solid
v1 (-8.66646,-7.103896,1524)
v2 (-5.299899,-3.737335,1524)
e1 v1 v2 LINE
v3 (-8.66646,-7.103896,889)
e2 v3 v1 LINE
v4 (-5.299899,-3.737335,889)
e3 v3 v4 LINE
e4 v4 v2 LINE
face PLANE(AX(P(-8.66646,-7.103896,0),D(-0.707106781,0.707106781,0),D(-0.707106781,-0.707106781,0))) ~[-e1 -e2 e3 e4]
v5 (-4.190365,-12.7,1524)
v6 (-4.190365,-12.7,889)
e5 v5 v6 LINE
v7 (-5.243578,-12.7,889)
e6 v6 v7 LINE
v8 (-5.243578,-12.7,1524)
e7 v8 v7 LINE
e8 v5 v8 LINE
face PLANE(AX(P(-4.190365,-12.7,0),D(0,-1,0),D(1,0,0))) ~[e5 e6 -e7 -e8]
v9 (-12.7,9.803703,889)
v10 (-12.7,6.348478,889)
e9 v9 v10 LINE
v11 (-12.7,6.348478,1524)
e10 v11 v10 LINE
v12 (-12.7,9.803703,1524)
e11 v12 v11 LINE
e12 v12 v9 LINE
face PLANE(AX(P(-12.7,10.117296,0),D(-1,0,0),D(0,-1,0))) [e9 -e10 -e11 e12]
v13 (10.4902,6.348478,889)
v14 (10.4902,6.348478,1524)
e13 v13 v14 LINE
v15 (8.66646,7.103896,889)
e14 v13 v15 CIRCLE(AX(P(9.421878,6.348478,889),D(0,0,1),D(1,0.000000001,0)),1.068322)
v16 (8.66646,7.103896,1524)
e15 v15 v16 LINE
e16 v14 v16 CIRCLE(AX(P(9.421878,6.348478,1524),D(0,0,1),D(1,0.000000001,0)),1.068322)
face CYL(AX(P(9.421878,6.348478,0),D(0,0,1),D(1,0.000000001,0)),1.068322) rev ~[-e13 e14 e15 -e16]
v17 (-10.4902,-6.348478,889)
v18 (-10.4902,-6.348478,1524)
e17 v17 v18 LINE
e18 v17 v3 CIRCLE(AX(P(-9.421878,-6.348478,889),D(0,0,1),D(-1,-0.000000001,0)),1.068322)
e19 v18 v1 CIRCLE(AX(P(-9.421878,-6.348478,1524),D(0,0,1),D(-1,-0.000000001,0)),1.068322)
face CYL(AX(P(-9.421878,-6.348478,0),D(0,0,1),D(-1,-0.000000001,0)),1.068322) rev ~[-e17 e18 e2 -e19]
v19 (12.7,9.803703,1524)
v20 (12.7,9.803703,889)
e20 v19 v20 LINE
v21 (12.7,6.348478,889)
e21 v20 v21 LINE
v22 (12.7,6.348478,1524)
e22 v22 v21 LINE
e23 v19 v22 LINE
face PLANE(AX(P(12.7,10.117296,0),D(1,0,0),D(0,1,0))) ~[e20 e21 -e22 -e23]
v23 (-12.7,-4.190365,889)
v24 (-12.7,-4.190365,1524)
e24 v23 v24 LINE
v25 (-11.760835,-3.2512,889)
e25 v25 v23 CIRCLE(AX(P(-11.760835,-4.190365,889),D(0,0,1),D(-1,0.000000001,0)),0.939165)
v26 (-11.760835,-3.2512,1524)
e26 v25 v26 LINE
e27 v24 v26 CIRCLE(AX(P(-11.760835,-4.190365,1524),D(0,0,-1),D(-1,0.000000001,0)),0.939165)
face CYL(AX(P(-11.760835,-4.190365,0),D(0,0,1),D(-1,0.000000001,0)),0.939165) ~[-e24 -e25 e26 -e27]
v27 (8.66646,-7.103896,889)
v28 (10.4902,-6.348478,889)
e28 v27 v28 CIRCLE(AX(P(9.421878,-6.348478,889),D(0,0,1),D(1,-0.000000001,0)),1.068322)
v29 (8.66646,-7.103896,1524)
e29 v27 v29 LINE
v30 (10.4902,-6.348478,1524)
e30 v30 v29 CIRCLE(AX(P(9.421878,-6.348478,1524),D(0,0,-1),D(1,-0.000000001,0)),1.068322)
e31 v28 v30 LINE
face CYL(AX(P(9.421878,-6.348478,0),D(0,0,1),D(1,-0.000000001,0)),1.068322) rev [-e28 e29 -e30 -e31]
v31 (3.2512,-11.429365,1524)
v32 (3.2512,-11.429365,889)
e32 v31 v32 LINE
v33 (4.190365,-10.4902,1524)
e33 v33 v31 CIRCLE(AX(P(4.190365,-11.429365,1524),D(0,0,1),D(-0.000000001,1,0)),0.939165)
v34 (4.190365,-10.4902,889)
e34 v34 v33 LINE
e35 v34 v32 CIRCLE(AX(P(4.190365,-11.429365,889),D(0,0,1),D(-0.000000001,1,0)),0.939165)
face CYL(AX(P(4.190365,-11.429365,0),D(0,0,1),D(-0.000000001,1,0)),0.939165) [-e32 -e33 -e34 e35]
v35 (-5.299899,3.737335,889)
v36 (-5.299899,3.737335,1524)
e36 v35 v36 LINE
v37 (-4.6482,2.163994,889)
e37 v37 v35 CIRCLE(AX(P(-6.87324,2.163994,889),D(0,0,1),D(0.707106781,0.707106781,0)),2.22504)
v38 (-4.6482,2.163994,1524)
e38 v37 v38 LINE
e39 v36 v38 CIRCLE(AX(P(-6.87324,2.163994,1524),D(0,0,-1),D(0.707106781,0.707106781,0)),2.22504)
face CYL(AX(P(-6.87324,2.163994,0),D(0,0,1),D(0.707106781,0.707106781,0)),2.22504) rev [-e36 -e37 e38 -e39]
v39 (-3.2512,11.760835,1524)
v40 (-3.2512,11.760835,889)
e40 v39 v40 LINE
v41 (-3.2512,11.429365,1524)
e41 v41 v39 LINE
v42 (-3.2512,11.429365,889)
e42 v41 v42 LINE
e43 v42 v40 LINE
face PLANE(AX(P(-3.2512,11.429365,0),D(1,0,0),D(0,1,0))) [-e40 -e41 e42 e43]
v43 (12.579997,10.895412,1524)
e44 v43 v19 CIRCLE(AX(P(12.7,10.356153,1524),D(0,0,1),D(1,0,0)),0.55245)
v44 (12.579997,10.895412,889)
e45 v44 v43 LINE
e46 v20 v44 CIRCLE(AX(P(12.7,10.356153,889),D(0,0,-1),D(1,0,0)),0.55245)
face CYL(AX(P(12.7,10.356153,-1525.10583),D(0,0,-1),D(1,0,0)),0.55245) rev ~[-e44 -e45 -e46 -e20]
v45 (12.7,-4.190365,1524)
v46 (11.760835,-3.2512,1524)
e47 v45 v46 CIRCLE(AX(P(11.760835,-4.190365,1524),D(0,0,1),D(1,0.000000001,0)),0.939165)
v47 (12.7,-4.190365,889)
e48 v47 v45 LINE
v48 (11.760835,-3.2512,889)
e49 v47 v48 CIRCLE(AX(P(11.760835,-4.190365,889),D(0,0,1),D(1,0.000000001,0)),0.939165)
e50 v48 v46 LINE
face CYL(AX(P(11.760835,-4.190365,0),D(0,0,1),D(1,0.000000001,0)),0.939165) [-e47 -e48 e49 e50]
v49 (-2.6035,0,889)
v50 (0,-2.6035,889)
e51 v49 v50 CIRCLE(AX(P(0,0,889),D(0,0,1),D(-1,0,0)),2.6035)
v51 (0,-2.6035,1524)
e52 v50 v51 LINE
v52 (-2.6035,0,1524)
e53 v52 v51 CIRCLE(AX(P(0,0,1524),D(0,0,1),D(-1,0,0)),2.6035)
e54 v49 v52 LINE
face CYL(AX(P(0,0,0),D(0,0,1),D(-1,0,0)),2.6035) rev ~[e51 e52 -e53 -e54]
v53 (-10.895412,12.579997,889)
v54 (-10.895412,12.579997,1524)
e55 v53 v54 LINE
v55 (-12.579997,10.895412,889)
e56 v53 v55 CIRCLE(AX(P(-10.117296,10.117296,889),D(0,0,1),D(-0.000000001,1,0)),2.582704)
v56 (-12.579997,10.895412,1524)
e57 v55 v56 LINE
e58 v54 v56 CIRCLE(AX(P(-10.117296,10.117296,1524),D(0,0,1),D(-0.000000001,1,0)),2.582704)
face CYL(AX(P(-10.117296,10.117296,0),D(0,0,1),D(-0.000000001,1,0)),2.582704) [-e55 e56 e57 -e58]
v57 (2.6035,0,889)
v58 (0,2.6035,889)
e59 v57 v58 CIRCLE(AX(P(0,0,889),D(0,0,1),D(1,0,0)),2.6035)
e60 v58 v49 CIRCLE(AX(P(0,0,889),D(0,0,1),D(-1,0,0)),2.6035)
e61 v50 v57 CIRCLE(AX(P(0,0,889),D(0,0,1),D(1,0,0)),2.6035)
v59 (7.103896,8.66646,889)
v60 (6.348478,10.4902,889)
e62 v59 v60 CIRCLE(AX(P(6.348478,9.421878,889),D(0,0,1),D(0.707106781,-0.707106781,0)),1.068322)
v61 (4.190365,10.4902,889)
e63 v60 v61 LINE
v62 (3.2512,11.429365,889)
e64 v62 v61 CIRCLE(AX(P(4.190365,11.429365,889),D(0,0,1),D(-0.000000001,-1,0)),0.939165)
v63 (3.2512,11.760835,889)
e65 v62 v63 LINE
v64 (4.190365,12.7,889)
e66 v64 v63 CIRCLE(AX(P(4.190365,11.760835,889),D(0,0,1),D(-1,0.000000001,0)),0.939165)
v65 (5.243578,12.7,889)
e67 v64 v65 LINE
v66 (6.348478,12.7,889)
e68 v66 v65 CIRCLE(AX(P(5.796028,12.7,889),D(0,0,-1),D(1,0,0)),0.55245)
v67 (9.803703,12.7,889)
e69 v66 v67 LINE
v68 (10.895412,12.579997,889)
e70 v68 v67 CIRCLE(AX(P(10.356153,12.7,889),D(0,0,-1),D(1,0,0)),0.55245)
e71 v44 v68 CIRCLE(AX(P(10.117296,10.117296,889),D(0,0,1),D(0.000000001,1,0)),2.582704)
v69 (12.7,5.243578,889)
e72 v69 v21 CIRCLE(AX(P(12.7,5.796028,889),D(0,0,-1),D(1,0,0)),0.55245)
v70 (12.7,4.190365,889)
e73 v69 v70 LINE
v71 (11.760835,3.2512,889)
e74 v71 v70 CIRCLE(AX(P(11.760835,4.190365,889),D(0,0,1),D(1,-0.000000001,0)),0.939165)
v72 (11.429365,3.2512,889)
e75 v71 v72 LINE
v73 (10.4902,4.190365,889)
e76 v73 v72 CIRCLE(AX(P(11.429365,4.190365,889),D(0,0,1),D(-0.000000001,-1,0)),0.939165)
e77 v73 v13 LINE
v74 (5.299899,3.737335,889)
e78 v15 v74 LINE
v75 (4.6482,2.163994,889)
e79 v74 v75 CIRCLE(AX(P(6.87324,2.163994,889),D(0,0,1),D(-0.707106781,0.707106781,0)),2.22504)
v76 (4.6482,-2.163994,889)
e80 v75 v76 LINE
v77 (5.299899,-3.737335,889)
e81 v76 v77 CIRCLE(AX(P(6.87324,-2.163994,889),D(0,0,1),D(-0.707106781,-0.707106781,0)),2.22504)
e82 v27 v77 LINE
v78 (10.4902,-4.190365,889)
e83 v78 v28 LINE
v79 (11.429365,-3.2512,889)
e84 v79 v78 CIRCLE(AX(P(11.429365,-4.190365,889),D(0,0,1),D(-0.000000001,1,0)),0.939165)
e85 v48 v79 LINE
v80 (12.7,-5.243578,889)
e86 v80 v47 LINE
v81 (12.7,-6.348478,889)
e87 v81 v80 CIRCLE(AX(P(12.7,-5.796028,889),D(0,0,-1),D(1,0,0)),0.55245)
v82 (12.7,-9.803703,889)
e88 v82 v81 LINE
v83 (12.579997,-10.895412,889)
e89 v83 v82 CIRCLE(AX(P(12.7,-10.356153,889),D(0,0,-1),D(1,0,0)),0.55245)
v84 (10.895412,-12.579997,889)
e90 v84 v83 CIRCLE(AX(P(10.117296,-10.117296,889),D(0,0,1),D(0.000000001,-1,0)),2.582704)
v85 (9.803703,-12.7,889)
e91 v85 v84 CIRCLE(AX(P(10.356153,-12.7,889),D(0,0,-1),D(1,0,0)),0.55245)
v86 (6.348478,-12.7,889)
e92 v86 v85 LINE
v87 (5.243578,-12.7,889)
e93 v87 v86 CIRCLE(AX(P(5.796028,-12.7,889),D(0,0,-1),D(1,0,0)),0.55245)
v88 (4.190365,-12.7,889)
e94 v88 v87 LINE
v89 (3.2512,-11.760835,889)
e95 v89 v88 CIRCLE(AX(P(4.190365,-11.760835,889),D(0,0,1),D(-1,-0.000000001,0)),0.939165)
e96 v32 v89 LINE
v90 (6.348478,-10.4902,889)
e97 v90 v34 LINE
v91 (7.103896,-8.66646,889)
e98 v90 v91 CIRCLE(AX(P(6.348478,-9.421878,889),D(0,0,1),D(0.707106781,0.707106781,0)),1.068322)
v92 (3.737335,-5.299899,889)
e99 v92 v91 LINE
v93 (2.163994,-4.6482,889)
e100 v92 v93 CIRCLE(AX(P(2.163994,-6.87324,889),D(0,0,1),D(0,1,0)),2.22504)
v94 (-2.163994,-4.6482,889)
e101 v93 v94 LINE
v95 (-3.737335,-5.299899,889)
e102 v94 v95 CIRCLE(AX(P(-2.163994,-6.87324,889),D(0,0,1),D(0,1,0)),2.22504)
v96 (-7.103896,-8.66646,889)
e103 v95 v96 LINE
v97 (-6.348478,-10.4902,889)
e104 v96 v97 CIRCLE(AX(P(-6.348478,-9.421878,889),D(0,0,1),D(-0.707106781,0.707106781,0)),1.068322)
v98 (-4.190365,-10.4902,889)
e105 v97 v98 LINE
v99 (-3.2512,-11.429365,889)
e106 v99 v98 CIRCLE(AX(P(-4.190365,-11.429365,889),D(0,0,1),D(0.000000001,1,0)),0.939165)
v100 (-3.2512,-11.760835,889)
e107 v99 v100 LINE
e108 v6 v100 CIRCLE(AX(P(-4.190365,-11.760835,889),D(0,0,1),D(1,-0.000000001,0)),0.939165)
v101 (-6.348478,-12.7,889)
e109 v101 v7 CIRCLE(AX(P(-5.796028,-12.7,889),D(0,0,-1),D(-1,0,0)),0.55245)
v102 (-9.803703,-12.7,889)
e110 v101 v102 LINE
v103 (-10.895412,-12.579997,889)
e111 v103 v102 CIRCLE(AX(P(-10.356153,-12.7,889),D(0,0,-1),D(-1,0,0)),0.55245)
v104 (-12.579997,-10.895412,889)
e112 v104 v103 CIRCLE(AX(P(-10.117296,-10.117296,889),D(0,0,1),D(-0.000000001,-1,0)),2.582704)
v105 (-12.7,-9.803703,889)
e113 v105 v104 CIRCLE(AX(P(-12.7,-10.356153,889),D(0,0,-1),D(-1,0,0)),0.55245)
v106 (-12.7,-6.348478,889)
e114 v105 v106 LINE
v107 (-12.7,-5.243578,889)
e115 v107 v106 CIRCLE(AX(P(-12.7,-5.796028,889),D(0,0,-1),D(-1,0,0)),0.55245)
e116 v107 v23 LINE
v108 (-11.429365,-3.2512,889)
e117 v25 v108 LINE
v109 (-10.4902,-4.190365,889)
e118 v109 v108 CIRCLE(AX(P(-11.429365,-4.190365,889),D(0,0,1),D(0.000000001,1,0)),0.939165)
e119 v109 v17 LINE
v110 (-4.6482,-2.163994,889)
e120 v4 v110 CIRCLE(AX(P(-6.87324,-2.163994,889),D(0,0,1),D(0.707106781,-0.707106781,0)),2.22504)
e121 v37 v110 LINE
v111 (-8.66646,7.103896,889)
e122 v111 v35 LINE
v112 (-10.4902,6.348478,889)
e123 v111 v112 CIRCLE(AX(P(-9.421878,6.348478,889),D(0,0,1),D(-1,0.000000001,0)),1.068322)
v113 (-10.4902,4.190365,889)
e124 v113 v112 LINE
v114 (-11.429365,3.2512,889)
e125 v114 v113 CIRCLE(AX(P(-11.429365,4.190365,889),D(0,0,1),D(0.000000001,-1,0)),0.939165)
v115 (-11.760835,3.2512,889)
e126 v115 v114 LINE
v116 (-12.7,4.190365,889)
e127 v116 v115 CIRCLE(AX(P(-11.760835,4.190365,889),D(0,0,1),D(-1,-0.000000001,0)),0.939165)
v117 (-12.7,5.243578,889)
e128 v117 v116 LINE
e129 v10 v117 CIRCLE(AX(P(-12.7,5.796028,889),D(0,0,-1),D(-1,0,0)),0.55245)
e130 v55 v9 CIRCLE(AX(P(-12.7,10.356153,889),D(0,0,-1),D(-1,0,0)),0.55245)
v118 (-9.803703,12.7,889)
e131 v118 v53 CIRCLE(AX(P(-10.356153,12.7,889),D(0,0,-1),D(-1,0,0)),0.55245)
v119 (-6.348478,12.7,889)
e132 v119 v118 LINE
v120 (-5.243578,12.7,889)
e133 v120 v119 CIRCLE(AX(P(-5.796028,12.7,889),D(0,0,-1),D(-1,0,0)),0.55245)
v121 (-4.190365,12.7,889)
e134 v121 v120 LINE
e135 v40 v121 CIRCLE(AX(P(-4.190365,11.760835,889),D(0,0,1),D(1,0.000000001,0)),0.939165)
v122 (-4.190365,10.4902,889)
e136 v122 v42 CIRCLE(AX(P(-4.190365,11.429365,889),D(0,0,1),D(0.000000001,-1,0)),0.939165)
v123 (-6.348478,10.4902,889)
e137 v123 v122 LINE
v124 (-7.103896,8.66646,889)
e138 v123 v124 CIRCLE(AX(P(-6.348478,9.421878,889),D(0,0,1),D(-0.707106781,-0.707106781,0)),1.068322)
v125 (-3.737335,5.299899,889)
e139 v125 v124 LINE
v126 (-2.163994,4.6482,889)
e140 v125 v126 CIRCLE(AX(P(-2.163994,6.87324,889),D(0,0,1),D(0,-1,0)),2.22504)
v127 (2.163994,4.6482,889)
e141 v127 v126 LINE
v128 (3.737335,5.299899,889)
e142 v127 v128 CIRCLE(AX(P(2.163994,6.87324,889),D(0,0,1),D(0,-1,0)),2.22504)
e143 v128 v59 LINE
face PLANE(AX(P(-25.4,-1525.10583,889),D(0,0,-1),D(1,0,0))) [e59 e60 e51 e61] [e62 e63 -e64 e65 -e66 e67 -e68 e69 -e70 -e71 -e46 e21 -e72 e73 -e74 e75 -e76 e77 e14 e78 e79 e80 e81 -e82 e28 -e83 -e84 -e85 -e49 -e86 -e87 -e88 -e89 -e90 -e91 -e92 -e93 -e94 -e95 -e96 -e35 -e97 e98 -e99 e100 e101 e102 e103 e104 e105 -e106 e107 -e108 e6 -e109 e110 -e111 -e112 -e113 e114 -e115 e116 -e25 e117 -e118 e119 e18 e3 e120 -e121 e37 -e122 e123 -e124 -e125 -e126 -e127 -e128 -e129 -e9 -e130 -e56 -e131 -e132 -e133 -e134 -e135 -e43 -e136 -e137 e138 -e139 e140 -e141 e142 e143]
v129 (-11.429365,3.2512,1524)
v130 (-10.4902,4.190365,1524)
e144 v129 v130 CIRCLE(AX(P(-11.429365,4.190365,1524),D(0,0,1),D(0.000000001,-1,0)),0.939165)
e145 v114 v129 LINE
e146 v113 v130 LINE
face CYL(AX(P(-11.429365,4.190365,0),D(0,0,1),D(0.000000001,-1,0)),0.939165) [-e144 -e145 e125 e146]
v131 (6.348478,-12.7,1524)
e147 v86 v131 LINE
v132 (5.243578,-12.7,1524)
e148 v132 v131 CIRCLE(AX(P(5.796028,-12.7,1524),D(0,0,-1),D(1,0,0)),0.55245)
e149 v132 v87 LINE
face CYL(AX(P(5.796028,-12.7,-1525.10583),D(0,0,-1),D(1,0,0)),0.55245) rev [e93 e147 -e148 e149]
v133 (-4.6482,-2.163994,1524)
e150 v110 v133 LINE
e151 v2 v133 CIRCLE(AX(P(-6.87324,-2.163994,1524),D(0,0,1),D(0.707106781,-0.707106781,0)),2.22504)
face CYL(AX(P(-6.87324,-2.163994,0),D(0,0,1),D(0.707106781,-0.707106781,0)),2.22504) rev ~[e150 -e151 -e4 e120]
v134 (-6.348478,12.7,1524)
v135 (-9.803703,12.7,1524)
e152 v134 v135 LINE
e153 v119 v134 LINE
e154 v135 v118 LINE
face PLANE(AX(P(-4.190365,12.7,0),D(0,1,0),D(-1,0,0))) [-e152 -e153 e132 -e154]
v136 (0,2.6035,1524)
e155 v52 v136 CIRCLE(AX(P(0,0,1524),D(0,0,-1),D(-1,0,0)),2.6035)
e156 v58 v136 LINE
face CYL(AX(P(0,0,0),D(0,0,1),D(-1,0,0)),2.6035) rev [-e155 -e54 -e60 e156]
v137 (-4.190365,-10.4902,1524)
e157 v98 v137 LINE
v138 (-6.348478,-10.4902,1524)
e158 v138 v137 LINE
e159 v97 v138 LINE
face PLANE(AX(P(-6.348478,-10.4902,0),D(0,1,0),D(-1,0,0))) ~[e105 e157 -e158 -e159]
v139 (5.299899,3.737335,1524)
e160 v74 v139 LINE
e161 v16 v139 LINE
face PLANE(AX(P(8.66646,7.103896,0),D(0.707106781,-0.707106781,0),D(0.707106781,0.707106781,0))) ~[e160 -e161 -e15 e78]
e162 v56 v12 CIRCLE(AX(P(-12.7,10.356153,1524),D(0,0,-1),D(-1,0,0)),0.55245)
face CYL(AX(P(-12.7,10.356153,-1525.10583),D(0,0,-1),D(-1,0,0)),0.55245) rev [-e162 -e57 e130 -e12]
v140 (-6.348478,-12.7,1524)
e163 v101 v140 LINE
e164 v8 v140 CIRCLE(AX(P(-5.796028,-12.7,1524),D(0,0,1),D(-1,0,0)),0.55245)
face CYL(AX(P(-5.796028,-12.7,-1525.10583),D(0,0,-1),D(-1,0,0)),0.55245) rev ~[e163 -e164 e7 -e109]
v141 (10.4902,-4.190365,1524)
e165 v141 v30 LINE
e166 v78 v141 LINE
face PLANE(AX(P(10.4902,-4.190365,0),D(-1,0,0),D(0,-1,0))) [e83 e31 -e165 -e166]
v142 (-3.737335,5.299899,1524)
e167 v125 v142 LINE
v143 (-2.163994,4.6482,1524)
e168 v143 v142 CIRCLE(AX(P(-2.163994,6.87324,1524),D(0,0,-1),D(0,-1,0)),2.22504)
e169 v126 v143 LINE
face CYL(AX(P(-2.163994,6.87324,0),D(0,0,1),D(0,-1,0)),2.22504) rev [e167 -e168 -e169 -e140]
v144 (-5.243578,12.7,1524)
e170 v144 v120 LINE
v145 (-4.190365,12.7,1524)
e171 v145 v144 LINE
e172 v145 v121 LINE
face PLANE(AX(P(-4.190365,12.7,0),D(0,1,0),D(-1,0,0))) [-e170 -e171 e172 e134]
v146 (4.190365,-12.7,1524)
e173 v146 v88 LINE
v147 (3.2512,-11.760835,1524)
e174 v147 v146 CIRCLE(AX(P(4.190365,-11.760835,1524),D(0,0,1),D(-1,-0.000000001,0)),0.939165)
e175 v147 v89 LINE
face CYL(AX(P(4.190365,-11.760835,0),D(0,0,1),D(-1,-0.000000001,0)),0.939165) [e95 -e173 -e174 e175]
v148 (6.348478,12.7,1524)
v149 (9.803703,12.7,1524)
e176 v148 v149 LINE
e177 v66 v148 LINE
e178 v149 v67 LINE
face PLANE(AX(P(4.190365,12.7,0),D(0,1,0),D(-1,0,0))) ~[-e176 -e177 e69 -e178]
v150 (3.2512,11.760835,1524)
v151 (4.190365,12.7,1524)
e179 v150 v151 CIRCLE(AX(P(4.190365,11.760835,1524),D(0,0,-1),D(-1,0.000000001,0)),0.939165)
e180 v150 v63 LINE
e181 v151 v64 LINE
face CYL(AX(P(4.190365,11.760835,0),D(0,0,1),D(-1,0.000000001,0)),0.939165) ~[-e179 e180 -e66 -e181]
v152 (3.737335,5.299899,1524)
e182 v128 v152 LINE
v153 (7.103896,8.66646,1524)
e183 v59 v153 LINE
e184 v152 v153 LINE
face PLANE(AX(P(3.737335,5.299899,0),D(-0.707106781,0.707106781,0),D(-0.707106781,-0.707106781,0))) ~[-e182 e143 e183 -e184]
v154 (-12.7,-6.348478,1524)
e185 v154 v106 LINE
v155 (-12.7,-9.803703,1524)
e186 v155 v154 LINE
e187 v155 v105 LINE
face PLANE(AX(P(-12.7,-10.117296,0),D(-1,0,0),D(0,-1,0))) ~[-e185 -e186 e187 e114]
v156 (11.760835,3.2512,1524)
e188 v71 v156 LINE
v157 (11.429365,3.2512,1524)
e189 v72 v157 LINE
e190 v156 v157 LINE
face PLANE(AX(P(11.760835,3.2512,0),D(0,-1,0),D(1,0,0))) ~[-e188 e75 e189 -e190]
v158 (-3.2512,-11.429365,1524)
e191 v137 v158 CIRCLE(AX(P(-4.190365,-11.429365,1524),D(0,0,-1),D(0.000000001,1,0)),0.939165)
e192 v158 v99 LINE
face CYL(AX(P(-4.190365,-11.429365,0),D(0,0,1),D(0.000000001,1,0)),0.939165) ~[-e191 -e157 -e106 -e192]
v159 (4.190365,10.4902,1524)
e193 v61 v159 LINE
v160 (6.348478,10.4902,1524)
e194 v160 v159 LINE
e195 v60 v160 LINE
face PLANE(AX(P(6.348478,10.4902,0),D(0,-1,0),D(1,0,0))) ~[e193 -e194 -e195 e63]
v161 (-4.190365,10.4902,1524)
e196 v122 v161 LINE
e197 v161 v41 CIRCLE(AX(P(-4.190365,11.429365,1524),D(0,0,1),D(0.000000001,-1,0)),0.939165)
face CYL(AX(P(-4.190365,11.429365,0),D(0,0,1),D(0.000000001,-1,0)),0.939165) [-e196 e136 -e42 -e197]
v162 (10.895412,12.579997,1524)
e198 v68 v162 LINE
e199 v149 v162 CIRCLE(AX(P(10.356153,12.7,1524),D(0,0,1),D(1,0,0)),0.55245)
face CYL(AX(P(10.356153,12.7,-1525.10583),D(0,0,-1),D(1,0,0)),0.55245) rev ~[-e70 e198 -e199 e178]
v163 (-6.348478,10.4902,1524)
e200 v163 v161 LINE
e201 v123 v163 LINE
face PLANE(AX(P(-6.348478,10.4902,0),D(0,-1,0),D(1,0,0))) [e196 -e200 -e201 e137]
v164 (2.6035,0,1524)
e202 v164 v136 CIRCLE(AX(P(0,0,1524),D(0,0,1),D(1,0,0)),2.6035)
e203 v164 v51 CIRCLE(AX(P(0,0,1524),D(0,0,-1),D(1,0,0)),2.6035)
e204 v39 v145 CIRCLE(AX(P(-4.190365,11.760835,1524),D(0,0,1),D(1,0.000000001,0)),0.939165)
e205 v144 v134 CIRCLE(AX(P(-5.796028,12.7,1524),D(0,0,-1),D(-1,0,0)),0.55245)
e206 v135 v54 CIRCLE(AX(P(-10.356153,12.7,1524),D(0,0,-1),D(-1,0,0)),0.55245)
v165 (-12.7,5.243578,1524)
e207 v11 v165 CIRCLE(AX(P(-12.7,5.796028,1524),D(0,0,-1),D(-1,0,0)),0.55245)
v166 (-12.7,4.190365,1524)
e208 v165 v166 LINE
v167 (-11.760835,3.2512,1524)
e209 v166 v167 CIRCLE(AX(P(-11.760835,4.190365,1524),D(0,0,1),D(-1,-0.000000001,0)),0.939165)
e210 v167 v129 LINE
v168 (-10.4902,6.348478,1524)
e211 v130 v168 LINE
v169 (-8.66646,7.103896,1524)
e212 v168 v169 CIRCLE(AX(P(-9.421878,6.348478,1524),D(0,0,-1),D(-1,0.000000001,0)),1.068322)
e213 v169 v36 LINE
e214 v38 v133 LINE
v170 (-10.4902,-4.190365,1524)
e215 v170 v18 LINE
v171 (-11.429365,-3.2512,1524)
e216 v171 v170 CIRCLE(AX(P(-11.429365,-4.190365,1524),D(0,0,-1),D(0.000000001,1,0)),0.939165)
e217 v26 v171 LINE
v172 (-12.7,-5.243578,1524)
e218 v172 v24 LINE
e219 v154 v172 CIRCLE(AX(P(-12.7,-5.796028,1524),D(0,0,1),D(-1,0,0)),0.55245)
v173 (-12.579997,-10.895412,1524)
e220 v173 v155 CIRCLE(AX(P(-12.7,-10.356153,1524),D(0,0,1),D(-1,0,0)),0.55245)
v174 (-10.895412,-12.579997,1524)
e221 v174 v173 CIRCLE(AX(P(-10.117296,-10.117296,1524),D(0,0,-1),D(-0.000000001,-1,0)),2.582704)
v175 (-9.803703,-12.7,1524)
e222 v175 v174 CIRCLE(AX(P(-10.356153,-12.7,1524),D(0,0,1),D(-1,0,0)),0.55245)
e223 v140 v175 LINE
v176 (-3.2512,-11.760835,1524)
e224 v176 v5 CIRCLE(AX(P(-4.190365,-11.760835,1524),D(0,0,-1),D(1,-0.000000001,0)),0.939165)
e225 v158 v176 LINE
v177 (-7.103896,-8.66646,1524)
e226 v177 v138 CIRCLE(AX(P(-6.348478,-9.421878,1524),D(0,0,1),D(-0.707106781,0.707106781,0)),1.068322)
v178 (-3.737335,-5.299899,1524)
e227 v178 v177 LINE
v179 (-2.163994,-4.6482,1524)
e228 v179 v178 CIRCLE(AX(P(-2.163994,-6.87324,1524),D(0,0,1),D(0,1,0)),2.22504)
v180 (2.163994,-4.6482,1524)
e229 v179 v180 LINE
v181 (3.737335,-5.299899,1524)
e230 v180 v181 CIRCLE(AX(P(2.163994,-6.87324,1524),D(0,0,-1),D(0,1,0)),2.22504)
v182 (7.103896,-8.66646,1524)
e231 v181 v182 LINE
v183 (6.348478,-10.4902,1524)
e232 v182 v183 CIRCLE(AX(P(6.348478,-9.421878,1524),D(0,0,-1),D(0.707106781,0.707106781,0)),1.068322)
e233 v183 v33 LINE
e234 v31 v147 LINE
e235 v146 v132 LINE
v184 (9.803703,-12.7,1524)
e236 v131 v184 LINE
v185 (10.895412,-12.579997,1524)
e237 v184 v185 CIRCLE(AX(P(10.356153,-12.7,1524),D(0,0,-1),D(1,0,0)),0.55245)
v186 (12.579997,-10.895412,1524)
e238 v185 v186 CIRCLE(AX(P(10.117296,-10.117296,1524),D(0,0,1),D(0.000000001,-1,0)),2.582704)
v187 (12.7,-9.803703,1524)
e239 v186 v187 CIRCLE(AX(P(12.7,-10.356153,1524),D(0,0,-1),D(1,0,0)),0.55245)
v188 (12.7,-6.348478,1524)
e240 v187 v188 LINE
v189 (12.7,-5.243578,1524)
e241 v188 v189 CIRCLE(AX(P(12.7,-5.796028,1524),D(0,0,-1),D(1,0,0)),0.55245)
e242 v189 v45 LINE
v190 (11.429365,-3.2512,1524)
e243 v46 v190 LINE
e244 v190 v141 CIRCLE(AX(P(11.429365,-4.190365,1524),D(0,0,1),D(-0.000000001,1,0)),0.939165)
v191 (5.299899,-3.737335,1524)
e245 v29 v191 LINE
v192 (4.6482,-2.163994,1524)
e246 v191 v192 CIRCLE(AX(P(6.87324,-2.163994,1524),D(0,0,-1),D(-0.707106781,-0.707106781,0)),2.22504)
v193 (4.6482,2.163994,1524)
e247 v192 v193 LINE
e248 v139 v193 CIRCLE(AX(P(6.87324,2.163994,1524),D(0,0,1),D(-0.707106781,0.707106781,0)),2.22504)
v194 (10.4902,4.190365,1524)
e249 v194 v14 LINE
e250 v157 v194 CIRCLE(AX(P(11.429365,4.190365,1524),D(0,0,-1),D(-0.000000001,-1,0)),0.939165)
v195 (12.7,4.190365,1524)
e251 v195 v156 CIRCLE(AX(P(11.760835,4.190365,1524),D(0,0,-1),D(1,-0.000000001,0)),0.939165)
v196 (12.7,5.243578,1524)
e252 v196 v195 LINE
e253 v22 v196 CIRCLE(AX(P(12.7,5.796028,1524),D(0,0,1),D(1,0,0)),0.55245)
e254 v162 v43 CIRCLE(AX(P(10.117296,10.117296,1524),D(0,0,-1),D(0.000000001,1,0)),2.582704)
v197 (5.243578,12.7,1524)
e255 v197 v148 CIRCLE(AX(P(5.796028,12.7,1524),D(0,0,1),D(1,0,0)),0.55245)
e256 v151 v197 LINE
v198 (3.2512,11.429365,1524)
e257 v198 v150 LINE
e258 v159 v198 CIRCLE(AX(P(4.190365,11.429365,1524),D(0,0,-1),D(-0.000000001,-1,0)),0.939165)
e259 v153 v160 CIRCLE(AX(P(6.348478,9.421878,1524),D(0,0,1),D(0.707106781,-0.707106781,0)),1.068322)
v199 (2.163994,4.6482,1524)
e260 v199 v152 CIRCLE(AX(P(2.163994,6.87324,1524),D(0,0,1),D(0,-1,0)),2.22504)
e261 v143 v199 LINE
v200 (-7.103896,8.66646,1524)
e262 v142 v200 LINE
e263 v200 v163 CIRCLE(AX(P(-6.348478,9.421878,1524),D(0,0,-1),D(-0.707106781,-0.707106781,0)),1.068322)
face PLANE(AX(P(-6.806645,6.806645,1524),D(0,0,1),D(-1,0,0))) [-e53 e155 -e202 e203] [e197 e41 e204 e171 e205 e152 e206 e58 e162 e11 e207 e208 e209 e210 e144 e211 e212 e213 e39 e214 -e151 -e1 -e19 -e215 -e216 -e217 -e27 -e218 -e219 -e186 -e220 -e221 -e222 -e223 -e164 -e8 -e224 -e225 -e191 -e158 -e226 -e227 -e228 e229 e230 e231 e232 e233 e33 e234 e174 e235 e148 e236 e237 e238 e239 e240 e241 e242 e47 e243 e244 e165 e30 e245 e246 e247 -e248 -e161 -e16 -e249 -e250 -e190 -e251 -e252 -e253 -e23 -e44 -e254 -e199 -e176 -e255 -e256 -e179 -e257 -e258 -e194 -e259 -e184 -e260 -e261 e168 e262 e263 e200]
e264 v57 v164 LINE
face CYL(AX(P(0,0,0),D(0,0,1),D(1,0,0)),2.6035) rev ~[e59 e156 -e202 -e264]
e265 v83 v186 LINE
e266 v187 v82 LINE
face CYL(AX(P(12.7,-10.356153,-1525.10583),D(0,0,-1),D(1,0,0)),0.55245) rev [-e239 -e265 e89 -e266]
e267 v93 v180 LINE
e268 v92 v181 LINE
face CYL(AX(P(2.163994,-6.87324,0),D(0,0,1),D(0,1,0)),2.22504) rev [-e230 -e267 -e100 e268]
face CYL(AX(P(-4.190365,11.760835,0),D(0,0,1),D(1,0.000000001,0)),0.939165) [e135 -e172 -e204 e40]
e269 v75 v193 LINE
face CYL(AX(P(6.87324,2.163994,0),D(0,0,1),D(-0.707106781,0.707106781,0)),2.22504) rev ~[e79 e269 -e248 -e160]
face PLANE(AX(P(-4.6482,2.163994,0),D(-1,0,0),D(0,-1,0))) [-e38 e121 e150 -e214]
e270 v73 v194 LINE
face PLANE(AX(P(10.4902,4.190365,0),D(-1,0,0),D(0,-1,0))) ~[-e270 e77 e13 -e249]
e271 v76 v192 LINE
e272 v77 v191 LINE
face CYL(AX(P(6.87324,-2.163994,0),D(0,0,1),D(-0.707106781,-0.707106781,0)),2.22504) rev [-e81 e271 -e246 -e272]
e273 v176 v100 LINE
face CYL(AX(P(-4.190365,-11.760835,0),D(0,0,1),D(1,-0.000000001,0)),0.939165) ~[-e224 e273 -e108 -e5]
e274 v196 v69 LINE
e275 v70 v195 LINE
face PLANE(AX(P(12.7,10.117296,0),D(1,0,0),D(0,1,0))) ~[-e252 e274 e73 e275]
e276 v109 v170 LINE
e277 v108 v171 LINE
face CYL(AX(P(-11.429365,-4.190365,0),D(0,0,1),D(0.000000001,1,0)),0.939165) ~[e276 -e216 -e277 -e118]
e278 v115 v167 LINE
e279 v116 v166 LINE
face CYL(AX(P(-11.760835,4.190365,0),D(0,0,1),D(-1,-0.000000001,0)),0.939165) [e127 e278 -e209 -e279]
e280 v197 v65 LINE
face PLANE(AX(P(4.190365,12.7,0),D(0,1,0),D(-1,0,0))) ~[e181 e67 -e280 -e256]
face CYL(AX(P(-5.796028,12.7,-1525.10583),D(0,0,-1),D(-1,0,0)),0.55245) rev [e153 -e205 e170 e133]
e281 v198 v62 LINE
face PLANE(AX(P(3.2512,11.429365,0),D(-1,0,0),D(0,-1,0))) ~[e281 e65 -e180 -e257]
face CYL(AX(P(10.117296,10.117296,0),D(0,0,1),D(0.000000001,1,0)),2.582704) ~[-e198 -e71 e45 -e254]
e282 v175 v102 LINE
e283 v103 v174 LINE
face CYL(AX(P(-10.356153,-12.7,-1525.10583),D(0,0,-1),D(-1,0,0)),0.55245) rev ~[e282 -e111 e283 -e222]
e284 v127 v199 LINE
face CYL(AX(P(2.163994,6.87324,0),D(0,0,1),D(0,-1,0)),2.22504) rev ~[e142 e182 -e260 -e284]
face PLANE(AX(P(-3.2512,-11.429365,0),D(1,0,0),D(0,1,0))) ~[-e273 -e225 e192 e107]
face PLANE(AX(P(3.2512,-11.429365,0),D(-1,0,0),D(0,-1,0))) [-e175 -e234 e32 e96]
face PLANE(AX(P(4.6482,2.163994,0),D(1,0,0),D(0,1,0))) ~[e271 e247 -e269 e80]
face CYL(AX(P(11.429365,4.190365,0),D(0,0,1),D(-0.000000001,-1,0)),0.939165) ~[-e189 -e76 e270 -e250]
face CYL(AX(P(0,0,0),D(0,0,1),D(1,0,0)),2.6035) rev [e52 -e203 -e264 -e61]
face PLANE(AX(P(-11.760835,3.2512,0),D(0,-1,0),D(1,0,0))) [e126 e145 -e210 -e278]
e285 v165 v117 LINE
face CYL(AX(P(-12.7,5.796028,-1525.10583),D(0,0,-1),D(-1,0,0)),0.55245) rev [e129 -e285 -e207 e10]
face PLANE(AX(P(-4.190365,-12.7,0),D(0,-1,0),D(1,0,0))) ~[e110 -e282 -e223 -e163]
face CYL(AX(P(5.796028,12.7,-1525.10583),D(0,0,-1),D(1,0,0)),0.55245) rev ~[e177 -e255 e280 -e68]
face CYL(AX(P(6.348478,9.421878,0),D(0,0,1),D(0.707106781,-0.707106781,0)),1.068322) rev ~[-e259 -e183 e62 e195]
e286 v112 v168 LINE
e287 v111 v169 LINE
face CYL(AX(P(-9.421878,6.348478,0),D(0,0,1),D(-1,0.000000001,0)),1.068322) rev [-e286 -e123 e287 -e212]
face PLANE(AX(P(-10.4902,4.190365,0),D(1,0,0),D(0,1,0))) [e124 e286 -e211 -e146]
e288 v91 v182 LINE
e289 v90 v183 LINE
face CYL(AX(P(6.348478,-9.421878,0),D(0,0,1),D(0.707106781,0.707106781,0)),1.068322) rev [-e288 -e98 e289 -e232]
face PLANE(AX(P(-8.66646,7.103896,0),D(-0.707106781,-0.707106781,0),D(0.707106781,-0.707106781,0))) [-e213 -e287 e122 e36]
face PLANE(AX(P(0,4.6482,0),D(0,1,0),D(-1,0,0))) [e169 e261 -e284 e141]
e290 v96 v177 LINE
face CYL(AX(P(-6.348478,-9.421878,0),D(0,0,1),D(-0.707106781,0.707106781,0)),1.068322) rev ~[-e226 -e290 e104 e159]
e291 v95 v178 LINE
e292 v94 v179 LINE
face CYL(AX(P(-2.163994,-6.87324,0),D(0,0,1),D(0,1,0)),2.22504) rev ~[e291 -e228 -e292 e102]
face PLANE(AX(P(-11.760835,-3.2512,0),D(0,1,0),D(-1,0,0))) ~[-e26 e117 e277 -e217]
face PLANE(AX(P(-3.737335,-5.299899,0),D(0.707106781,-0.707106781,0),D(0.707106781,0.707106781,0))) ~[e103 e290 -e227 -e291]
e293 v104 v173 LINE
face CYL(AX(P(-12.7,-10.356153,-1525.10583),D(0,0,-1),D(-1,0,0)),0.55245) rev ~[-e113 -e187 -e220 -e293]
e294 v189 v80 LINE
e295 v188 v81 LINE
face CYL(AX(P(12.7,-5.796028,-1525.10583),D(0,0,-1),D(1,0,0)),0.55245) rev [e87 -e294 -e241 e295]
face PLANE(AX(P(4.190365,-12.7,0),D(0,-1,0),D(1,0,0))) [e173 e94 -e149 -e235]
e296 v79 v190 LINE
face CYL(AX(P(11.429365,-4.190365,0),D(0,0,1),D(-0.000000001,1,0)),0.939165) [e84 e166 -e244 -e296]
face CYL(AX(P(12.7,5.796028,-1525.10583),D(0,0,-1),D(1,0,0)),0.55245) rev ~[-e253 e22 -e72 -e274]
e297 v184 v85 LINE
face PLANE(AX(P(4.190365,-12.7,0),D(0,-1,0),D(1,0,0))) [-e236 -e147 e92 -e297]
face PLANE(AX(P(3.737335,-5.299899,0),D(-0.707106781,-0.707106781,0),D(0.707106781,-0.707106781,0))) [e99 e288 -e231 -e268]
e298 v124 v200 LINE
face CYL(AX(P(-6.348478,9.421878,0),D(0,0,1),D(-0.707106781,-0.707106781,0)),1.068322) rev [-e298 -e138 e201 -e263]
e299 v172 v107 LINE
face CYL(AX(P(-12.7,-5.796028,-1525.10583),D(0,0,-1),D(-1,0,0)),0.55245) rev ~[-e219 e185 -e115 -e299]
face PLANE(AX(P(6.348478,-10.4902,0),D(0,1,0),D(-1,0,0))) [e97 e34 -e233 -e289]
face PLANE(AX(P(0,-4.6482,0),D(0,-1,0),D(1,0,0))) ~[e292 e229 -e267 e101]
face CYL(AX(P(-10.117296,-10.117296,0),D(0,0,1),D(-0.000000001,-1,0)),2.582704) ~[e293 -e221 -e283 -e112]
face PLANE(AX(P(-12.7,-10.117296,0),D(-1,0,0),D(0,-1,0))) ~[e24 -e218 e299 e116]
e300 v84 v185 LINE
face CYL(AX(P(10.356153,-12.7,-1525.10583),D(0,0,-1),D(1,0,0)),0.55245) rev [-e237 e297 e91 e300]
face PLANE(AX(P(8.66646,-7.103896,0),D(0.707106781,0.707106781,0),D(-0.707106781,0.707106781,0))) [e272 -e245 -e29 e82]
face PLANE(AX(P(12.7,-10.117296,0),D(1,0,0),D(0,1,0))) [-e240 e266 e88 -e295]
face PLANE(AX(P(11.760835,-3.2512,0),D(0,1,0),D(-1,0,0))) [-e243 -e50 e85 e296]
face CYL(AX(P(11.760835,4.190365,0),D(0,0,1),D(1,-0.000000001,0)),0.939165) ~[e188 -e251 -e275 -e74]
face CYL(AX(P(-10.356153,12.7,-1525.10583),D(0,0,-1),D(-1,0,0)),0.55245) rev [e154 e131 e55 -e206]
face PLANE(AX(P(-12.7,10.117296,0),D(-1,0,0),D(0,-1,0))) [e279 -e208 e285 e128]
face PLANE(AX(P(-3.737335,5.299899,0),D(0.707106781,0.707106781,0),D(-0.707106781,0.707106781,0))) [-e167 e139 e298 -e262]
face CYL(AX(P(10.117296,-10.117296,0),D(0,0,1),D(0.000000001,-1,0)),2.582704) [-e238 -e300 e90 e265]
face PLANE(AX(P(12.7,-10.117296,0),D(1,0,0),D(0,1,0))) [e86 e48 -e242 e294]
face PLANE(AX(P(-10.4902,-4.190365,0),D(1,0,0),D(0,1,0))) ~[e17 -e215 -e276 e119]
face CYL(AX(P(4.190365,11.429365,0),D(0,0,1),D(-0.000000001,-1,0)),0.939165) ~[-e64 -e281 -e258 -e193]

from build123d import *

# Parameters (mm, degrees)
BOSS_EXTRUDE1_DEPTH     = 1524
CUT_EXTRUDE1_DEPTH      = 1525.105829659
CUT_EXTRUDE1_DEPTH_BACK = 1525.105829659
SKETCH5_R               = 0.55245
CUT_EXTRUDE2_DEPTH      = 1525.105829659
CUT_EXTRUDE2_DEPTH_BACK = 1525.105829659
SKETCH8_W               = 50.559993734
SKETCH8_H               = 1231.9
CUT_EXTRUDE3_DEPTH      = 1525.105829659
CUT_EXTRUDE3_DEPTH_BACK = 1525.105829659
SKETCH9_W               = 50.679996867
SKETCH9_H               = 1206.5


with BuildPart() as part:
    # Sketch4 → Boss-Extrude1 (new, symmetric)
    with BuildSketch(Plane.XY):
        with BuildLine():
            Line((4.190365, -12.7), (10.11729625, -12.7))
            ThreePointArc((10.11729625, -12.7), (11.943543585, -11.943543585), (12.7, -10.11729625))
            Line((12.7, -10.11729625), (12.7, -4.190365))
            ThreePointArc((12.7, -4.190365), (12.42492494, -3.52627506), (11.760835, -3.2512))
            Line((11.760835, -3.2512), (11.429365, -3.2512))
            ThreePointArc((11.429365, -3.2512), (10.76527506, -3.52627506), (10.4902, -4.190365))
            Line((10.4902, -4.190365), (10.4902, -6.348478019))
            ThreePointArc((10.4902, -6.348478019), (9.830707141, -7.335478831), (8.666460301, -7.103895736))
            Line((8.666460301, -7.103895736), (5.299899128, -3.737334563))
            ThreePointArc((5.299899128, -3.737334563), (4.817571085, -3.015479634), (4.6482, -2.16399369))
            Line((4.6482, -2.16399369), (4.6482, 0))
            Line((4.6482, 0), (2.6035, 0))
            ThreePointArc((2.6035, 0), (1.840952505, -1.840952505), (0, -2.6035))
            Line((0, -2.6035), (0, -4.6482))
            Line((0, -4.6482), (2.16399369, -4.6482))
            ThreePointArc((2.16399369, -4.6482), (3.015479634, -4.817571085), (3.737334563, -5.299899128))
            Line((3.737334563, -5.299899128), (7.103895736, -8.666460301))
            ThreePointArc((7.103895736, -8.666460301), (7.335478831, -9.830707141), (6.348478019, -10.4902))
            Line((6.348478019, -10.4902), (4.190365, -10.4902))
            ThreePointArc((4.190365, -10.4902), (3.52627506, -10.76527506), (3.2512, -11.429365))
            Line((3.2512, -11.429365), (3.2512, -11.760835))
            ThreePointArc((3.2512, -11.760835), (3.52627506, -12.42492494), (4.190365, -12.7))
        make_face()
    extrude(amount=BOSS_EXTRUDE1_DEPTH, both=True)

    # Sketch5 → Cut-Extrude1 (cut, two sides: drawn at the far end of the back side and taken through both)
    with BuildSketch(Plane.XY.offset(-CUT_EXTRUDE1_DEPTH_BACK)):
        with Locations((10.356153152, -12.7)):
            Circle(SKETCH5_R)
        with Locations((5.796028019, -12.7)):
            Circle(SKETCH5_R)
        with Locations((12.7, -10.356153152)):
            Circle(SKETCH5_R)
        with Locations((12.7, -5.796028019)):
            Circle(SKETCH5_R)
    extrude(amount=CUT_EXTRUDE1_DEPTH + CUT_EXTRUDE1_DEPTH_BACK, mode=Mode.SUBTRACT)

    # Mirror1: part across plane


with BuildPart() as part_1:
    add(part.part)
    add(part.part.mirror(Plane(origin=(0, 0, 0), x_dir=(0, 0, 1), z_dir=(1, 0, 0))))

    # Mirror2: part across plane


with BuildPart() as part_2:
    add(part_1.part)
    add(part_1.part.mirror(Plane.ZX))

    # Sketch8 → Cut-Extrude2 (cut, two sides: drawn at the far end of the back side and taken through both)
    with BuildSketch(Plane(origin=(0, 0, 0), x_dir=(1, 0, 0), z_dir=(0, 1, 0)).offset(-CUT_EXTRUDE2_DEPTH_BACK)):
        with Locations((0, 920.75)):
            Rectangle(SKETCH8_W, SKETCH8_H)
    extrude(amount=CUT_EXTRUDE2_DEPTH + CUT_EXTRUDE2_DEPTH_BACK, mode=Mode.SUBTRACT)

    # Sketch9 → Cut-Extrude3 (cut, two sides: drawn at the far end of the back side and taken through both)
    with BuildSketch(Plane(origin=(0, 0, 0), x_dir=(1, 0, 0), z_dir=(0, 1, 0)).offset(-CUT_EXTRUDE3_DEPTH_BACK)):
        with Locations((-0.060001567, -285.75)):
            Rectangle(SKETCH9_W, SKETCH9_H)
    extrude(amount=CUT_EXTRUDE3_DEPTH + CUT_EXTRUDE3_DEPTH_BACK, mode=Mode.SUBTRACT)


solid = part_2.part
